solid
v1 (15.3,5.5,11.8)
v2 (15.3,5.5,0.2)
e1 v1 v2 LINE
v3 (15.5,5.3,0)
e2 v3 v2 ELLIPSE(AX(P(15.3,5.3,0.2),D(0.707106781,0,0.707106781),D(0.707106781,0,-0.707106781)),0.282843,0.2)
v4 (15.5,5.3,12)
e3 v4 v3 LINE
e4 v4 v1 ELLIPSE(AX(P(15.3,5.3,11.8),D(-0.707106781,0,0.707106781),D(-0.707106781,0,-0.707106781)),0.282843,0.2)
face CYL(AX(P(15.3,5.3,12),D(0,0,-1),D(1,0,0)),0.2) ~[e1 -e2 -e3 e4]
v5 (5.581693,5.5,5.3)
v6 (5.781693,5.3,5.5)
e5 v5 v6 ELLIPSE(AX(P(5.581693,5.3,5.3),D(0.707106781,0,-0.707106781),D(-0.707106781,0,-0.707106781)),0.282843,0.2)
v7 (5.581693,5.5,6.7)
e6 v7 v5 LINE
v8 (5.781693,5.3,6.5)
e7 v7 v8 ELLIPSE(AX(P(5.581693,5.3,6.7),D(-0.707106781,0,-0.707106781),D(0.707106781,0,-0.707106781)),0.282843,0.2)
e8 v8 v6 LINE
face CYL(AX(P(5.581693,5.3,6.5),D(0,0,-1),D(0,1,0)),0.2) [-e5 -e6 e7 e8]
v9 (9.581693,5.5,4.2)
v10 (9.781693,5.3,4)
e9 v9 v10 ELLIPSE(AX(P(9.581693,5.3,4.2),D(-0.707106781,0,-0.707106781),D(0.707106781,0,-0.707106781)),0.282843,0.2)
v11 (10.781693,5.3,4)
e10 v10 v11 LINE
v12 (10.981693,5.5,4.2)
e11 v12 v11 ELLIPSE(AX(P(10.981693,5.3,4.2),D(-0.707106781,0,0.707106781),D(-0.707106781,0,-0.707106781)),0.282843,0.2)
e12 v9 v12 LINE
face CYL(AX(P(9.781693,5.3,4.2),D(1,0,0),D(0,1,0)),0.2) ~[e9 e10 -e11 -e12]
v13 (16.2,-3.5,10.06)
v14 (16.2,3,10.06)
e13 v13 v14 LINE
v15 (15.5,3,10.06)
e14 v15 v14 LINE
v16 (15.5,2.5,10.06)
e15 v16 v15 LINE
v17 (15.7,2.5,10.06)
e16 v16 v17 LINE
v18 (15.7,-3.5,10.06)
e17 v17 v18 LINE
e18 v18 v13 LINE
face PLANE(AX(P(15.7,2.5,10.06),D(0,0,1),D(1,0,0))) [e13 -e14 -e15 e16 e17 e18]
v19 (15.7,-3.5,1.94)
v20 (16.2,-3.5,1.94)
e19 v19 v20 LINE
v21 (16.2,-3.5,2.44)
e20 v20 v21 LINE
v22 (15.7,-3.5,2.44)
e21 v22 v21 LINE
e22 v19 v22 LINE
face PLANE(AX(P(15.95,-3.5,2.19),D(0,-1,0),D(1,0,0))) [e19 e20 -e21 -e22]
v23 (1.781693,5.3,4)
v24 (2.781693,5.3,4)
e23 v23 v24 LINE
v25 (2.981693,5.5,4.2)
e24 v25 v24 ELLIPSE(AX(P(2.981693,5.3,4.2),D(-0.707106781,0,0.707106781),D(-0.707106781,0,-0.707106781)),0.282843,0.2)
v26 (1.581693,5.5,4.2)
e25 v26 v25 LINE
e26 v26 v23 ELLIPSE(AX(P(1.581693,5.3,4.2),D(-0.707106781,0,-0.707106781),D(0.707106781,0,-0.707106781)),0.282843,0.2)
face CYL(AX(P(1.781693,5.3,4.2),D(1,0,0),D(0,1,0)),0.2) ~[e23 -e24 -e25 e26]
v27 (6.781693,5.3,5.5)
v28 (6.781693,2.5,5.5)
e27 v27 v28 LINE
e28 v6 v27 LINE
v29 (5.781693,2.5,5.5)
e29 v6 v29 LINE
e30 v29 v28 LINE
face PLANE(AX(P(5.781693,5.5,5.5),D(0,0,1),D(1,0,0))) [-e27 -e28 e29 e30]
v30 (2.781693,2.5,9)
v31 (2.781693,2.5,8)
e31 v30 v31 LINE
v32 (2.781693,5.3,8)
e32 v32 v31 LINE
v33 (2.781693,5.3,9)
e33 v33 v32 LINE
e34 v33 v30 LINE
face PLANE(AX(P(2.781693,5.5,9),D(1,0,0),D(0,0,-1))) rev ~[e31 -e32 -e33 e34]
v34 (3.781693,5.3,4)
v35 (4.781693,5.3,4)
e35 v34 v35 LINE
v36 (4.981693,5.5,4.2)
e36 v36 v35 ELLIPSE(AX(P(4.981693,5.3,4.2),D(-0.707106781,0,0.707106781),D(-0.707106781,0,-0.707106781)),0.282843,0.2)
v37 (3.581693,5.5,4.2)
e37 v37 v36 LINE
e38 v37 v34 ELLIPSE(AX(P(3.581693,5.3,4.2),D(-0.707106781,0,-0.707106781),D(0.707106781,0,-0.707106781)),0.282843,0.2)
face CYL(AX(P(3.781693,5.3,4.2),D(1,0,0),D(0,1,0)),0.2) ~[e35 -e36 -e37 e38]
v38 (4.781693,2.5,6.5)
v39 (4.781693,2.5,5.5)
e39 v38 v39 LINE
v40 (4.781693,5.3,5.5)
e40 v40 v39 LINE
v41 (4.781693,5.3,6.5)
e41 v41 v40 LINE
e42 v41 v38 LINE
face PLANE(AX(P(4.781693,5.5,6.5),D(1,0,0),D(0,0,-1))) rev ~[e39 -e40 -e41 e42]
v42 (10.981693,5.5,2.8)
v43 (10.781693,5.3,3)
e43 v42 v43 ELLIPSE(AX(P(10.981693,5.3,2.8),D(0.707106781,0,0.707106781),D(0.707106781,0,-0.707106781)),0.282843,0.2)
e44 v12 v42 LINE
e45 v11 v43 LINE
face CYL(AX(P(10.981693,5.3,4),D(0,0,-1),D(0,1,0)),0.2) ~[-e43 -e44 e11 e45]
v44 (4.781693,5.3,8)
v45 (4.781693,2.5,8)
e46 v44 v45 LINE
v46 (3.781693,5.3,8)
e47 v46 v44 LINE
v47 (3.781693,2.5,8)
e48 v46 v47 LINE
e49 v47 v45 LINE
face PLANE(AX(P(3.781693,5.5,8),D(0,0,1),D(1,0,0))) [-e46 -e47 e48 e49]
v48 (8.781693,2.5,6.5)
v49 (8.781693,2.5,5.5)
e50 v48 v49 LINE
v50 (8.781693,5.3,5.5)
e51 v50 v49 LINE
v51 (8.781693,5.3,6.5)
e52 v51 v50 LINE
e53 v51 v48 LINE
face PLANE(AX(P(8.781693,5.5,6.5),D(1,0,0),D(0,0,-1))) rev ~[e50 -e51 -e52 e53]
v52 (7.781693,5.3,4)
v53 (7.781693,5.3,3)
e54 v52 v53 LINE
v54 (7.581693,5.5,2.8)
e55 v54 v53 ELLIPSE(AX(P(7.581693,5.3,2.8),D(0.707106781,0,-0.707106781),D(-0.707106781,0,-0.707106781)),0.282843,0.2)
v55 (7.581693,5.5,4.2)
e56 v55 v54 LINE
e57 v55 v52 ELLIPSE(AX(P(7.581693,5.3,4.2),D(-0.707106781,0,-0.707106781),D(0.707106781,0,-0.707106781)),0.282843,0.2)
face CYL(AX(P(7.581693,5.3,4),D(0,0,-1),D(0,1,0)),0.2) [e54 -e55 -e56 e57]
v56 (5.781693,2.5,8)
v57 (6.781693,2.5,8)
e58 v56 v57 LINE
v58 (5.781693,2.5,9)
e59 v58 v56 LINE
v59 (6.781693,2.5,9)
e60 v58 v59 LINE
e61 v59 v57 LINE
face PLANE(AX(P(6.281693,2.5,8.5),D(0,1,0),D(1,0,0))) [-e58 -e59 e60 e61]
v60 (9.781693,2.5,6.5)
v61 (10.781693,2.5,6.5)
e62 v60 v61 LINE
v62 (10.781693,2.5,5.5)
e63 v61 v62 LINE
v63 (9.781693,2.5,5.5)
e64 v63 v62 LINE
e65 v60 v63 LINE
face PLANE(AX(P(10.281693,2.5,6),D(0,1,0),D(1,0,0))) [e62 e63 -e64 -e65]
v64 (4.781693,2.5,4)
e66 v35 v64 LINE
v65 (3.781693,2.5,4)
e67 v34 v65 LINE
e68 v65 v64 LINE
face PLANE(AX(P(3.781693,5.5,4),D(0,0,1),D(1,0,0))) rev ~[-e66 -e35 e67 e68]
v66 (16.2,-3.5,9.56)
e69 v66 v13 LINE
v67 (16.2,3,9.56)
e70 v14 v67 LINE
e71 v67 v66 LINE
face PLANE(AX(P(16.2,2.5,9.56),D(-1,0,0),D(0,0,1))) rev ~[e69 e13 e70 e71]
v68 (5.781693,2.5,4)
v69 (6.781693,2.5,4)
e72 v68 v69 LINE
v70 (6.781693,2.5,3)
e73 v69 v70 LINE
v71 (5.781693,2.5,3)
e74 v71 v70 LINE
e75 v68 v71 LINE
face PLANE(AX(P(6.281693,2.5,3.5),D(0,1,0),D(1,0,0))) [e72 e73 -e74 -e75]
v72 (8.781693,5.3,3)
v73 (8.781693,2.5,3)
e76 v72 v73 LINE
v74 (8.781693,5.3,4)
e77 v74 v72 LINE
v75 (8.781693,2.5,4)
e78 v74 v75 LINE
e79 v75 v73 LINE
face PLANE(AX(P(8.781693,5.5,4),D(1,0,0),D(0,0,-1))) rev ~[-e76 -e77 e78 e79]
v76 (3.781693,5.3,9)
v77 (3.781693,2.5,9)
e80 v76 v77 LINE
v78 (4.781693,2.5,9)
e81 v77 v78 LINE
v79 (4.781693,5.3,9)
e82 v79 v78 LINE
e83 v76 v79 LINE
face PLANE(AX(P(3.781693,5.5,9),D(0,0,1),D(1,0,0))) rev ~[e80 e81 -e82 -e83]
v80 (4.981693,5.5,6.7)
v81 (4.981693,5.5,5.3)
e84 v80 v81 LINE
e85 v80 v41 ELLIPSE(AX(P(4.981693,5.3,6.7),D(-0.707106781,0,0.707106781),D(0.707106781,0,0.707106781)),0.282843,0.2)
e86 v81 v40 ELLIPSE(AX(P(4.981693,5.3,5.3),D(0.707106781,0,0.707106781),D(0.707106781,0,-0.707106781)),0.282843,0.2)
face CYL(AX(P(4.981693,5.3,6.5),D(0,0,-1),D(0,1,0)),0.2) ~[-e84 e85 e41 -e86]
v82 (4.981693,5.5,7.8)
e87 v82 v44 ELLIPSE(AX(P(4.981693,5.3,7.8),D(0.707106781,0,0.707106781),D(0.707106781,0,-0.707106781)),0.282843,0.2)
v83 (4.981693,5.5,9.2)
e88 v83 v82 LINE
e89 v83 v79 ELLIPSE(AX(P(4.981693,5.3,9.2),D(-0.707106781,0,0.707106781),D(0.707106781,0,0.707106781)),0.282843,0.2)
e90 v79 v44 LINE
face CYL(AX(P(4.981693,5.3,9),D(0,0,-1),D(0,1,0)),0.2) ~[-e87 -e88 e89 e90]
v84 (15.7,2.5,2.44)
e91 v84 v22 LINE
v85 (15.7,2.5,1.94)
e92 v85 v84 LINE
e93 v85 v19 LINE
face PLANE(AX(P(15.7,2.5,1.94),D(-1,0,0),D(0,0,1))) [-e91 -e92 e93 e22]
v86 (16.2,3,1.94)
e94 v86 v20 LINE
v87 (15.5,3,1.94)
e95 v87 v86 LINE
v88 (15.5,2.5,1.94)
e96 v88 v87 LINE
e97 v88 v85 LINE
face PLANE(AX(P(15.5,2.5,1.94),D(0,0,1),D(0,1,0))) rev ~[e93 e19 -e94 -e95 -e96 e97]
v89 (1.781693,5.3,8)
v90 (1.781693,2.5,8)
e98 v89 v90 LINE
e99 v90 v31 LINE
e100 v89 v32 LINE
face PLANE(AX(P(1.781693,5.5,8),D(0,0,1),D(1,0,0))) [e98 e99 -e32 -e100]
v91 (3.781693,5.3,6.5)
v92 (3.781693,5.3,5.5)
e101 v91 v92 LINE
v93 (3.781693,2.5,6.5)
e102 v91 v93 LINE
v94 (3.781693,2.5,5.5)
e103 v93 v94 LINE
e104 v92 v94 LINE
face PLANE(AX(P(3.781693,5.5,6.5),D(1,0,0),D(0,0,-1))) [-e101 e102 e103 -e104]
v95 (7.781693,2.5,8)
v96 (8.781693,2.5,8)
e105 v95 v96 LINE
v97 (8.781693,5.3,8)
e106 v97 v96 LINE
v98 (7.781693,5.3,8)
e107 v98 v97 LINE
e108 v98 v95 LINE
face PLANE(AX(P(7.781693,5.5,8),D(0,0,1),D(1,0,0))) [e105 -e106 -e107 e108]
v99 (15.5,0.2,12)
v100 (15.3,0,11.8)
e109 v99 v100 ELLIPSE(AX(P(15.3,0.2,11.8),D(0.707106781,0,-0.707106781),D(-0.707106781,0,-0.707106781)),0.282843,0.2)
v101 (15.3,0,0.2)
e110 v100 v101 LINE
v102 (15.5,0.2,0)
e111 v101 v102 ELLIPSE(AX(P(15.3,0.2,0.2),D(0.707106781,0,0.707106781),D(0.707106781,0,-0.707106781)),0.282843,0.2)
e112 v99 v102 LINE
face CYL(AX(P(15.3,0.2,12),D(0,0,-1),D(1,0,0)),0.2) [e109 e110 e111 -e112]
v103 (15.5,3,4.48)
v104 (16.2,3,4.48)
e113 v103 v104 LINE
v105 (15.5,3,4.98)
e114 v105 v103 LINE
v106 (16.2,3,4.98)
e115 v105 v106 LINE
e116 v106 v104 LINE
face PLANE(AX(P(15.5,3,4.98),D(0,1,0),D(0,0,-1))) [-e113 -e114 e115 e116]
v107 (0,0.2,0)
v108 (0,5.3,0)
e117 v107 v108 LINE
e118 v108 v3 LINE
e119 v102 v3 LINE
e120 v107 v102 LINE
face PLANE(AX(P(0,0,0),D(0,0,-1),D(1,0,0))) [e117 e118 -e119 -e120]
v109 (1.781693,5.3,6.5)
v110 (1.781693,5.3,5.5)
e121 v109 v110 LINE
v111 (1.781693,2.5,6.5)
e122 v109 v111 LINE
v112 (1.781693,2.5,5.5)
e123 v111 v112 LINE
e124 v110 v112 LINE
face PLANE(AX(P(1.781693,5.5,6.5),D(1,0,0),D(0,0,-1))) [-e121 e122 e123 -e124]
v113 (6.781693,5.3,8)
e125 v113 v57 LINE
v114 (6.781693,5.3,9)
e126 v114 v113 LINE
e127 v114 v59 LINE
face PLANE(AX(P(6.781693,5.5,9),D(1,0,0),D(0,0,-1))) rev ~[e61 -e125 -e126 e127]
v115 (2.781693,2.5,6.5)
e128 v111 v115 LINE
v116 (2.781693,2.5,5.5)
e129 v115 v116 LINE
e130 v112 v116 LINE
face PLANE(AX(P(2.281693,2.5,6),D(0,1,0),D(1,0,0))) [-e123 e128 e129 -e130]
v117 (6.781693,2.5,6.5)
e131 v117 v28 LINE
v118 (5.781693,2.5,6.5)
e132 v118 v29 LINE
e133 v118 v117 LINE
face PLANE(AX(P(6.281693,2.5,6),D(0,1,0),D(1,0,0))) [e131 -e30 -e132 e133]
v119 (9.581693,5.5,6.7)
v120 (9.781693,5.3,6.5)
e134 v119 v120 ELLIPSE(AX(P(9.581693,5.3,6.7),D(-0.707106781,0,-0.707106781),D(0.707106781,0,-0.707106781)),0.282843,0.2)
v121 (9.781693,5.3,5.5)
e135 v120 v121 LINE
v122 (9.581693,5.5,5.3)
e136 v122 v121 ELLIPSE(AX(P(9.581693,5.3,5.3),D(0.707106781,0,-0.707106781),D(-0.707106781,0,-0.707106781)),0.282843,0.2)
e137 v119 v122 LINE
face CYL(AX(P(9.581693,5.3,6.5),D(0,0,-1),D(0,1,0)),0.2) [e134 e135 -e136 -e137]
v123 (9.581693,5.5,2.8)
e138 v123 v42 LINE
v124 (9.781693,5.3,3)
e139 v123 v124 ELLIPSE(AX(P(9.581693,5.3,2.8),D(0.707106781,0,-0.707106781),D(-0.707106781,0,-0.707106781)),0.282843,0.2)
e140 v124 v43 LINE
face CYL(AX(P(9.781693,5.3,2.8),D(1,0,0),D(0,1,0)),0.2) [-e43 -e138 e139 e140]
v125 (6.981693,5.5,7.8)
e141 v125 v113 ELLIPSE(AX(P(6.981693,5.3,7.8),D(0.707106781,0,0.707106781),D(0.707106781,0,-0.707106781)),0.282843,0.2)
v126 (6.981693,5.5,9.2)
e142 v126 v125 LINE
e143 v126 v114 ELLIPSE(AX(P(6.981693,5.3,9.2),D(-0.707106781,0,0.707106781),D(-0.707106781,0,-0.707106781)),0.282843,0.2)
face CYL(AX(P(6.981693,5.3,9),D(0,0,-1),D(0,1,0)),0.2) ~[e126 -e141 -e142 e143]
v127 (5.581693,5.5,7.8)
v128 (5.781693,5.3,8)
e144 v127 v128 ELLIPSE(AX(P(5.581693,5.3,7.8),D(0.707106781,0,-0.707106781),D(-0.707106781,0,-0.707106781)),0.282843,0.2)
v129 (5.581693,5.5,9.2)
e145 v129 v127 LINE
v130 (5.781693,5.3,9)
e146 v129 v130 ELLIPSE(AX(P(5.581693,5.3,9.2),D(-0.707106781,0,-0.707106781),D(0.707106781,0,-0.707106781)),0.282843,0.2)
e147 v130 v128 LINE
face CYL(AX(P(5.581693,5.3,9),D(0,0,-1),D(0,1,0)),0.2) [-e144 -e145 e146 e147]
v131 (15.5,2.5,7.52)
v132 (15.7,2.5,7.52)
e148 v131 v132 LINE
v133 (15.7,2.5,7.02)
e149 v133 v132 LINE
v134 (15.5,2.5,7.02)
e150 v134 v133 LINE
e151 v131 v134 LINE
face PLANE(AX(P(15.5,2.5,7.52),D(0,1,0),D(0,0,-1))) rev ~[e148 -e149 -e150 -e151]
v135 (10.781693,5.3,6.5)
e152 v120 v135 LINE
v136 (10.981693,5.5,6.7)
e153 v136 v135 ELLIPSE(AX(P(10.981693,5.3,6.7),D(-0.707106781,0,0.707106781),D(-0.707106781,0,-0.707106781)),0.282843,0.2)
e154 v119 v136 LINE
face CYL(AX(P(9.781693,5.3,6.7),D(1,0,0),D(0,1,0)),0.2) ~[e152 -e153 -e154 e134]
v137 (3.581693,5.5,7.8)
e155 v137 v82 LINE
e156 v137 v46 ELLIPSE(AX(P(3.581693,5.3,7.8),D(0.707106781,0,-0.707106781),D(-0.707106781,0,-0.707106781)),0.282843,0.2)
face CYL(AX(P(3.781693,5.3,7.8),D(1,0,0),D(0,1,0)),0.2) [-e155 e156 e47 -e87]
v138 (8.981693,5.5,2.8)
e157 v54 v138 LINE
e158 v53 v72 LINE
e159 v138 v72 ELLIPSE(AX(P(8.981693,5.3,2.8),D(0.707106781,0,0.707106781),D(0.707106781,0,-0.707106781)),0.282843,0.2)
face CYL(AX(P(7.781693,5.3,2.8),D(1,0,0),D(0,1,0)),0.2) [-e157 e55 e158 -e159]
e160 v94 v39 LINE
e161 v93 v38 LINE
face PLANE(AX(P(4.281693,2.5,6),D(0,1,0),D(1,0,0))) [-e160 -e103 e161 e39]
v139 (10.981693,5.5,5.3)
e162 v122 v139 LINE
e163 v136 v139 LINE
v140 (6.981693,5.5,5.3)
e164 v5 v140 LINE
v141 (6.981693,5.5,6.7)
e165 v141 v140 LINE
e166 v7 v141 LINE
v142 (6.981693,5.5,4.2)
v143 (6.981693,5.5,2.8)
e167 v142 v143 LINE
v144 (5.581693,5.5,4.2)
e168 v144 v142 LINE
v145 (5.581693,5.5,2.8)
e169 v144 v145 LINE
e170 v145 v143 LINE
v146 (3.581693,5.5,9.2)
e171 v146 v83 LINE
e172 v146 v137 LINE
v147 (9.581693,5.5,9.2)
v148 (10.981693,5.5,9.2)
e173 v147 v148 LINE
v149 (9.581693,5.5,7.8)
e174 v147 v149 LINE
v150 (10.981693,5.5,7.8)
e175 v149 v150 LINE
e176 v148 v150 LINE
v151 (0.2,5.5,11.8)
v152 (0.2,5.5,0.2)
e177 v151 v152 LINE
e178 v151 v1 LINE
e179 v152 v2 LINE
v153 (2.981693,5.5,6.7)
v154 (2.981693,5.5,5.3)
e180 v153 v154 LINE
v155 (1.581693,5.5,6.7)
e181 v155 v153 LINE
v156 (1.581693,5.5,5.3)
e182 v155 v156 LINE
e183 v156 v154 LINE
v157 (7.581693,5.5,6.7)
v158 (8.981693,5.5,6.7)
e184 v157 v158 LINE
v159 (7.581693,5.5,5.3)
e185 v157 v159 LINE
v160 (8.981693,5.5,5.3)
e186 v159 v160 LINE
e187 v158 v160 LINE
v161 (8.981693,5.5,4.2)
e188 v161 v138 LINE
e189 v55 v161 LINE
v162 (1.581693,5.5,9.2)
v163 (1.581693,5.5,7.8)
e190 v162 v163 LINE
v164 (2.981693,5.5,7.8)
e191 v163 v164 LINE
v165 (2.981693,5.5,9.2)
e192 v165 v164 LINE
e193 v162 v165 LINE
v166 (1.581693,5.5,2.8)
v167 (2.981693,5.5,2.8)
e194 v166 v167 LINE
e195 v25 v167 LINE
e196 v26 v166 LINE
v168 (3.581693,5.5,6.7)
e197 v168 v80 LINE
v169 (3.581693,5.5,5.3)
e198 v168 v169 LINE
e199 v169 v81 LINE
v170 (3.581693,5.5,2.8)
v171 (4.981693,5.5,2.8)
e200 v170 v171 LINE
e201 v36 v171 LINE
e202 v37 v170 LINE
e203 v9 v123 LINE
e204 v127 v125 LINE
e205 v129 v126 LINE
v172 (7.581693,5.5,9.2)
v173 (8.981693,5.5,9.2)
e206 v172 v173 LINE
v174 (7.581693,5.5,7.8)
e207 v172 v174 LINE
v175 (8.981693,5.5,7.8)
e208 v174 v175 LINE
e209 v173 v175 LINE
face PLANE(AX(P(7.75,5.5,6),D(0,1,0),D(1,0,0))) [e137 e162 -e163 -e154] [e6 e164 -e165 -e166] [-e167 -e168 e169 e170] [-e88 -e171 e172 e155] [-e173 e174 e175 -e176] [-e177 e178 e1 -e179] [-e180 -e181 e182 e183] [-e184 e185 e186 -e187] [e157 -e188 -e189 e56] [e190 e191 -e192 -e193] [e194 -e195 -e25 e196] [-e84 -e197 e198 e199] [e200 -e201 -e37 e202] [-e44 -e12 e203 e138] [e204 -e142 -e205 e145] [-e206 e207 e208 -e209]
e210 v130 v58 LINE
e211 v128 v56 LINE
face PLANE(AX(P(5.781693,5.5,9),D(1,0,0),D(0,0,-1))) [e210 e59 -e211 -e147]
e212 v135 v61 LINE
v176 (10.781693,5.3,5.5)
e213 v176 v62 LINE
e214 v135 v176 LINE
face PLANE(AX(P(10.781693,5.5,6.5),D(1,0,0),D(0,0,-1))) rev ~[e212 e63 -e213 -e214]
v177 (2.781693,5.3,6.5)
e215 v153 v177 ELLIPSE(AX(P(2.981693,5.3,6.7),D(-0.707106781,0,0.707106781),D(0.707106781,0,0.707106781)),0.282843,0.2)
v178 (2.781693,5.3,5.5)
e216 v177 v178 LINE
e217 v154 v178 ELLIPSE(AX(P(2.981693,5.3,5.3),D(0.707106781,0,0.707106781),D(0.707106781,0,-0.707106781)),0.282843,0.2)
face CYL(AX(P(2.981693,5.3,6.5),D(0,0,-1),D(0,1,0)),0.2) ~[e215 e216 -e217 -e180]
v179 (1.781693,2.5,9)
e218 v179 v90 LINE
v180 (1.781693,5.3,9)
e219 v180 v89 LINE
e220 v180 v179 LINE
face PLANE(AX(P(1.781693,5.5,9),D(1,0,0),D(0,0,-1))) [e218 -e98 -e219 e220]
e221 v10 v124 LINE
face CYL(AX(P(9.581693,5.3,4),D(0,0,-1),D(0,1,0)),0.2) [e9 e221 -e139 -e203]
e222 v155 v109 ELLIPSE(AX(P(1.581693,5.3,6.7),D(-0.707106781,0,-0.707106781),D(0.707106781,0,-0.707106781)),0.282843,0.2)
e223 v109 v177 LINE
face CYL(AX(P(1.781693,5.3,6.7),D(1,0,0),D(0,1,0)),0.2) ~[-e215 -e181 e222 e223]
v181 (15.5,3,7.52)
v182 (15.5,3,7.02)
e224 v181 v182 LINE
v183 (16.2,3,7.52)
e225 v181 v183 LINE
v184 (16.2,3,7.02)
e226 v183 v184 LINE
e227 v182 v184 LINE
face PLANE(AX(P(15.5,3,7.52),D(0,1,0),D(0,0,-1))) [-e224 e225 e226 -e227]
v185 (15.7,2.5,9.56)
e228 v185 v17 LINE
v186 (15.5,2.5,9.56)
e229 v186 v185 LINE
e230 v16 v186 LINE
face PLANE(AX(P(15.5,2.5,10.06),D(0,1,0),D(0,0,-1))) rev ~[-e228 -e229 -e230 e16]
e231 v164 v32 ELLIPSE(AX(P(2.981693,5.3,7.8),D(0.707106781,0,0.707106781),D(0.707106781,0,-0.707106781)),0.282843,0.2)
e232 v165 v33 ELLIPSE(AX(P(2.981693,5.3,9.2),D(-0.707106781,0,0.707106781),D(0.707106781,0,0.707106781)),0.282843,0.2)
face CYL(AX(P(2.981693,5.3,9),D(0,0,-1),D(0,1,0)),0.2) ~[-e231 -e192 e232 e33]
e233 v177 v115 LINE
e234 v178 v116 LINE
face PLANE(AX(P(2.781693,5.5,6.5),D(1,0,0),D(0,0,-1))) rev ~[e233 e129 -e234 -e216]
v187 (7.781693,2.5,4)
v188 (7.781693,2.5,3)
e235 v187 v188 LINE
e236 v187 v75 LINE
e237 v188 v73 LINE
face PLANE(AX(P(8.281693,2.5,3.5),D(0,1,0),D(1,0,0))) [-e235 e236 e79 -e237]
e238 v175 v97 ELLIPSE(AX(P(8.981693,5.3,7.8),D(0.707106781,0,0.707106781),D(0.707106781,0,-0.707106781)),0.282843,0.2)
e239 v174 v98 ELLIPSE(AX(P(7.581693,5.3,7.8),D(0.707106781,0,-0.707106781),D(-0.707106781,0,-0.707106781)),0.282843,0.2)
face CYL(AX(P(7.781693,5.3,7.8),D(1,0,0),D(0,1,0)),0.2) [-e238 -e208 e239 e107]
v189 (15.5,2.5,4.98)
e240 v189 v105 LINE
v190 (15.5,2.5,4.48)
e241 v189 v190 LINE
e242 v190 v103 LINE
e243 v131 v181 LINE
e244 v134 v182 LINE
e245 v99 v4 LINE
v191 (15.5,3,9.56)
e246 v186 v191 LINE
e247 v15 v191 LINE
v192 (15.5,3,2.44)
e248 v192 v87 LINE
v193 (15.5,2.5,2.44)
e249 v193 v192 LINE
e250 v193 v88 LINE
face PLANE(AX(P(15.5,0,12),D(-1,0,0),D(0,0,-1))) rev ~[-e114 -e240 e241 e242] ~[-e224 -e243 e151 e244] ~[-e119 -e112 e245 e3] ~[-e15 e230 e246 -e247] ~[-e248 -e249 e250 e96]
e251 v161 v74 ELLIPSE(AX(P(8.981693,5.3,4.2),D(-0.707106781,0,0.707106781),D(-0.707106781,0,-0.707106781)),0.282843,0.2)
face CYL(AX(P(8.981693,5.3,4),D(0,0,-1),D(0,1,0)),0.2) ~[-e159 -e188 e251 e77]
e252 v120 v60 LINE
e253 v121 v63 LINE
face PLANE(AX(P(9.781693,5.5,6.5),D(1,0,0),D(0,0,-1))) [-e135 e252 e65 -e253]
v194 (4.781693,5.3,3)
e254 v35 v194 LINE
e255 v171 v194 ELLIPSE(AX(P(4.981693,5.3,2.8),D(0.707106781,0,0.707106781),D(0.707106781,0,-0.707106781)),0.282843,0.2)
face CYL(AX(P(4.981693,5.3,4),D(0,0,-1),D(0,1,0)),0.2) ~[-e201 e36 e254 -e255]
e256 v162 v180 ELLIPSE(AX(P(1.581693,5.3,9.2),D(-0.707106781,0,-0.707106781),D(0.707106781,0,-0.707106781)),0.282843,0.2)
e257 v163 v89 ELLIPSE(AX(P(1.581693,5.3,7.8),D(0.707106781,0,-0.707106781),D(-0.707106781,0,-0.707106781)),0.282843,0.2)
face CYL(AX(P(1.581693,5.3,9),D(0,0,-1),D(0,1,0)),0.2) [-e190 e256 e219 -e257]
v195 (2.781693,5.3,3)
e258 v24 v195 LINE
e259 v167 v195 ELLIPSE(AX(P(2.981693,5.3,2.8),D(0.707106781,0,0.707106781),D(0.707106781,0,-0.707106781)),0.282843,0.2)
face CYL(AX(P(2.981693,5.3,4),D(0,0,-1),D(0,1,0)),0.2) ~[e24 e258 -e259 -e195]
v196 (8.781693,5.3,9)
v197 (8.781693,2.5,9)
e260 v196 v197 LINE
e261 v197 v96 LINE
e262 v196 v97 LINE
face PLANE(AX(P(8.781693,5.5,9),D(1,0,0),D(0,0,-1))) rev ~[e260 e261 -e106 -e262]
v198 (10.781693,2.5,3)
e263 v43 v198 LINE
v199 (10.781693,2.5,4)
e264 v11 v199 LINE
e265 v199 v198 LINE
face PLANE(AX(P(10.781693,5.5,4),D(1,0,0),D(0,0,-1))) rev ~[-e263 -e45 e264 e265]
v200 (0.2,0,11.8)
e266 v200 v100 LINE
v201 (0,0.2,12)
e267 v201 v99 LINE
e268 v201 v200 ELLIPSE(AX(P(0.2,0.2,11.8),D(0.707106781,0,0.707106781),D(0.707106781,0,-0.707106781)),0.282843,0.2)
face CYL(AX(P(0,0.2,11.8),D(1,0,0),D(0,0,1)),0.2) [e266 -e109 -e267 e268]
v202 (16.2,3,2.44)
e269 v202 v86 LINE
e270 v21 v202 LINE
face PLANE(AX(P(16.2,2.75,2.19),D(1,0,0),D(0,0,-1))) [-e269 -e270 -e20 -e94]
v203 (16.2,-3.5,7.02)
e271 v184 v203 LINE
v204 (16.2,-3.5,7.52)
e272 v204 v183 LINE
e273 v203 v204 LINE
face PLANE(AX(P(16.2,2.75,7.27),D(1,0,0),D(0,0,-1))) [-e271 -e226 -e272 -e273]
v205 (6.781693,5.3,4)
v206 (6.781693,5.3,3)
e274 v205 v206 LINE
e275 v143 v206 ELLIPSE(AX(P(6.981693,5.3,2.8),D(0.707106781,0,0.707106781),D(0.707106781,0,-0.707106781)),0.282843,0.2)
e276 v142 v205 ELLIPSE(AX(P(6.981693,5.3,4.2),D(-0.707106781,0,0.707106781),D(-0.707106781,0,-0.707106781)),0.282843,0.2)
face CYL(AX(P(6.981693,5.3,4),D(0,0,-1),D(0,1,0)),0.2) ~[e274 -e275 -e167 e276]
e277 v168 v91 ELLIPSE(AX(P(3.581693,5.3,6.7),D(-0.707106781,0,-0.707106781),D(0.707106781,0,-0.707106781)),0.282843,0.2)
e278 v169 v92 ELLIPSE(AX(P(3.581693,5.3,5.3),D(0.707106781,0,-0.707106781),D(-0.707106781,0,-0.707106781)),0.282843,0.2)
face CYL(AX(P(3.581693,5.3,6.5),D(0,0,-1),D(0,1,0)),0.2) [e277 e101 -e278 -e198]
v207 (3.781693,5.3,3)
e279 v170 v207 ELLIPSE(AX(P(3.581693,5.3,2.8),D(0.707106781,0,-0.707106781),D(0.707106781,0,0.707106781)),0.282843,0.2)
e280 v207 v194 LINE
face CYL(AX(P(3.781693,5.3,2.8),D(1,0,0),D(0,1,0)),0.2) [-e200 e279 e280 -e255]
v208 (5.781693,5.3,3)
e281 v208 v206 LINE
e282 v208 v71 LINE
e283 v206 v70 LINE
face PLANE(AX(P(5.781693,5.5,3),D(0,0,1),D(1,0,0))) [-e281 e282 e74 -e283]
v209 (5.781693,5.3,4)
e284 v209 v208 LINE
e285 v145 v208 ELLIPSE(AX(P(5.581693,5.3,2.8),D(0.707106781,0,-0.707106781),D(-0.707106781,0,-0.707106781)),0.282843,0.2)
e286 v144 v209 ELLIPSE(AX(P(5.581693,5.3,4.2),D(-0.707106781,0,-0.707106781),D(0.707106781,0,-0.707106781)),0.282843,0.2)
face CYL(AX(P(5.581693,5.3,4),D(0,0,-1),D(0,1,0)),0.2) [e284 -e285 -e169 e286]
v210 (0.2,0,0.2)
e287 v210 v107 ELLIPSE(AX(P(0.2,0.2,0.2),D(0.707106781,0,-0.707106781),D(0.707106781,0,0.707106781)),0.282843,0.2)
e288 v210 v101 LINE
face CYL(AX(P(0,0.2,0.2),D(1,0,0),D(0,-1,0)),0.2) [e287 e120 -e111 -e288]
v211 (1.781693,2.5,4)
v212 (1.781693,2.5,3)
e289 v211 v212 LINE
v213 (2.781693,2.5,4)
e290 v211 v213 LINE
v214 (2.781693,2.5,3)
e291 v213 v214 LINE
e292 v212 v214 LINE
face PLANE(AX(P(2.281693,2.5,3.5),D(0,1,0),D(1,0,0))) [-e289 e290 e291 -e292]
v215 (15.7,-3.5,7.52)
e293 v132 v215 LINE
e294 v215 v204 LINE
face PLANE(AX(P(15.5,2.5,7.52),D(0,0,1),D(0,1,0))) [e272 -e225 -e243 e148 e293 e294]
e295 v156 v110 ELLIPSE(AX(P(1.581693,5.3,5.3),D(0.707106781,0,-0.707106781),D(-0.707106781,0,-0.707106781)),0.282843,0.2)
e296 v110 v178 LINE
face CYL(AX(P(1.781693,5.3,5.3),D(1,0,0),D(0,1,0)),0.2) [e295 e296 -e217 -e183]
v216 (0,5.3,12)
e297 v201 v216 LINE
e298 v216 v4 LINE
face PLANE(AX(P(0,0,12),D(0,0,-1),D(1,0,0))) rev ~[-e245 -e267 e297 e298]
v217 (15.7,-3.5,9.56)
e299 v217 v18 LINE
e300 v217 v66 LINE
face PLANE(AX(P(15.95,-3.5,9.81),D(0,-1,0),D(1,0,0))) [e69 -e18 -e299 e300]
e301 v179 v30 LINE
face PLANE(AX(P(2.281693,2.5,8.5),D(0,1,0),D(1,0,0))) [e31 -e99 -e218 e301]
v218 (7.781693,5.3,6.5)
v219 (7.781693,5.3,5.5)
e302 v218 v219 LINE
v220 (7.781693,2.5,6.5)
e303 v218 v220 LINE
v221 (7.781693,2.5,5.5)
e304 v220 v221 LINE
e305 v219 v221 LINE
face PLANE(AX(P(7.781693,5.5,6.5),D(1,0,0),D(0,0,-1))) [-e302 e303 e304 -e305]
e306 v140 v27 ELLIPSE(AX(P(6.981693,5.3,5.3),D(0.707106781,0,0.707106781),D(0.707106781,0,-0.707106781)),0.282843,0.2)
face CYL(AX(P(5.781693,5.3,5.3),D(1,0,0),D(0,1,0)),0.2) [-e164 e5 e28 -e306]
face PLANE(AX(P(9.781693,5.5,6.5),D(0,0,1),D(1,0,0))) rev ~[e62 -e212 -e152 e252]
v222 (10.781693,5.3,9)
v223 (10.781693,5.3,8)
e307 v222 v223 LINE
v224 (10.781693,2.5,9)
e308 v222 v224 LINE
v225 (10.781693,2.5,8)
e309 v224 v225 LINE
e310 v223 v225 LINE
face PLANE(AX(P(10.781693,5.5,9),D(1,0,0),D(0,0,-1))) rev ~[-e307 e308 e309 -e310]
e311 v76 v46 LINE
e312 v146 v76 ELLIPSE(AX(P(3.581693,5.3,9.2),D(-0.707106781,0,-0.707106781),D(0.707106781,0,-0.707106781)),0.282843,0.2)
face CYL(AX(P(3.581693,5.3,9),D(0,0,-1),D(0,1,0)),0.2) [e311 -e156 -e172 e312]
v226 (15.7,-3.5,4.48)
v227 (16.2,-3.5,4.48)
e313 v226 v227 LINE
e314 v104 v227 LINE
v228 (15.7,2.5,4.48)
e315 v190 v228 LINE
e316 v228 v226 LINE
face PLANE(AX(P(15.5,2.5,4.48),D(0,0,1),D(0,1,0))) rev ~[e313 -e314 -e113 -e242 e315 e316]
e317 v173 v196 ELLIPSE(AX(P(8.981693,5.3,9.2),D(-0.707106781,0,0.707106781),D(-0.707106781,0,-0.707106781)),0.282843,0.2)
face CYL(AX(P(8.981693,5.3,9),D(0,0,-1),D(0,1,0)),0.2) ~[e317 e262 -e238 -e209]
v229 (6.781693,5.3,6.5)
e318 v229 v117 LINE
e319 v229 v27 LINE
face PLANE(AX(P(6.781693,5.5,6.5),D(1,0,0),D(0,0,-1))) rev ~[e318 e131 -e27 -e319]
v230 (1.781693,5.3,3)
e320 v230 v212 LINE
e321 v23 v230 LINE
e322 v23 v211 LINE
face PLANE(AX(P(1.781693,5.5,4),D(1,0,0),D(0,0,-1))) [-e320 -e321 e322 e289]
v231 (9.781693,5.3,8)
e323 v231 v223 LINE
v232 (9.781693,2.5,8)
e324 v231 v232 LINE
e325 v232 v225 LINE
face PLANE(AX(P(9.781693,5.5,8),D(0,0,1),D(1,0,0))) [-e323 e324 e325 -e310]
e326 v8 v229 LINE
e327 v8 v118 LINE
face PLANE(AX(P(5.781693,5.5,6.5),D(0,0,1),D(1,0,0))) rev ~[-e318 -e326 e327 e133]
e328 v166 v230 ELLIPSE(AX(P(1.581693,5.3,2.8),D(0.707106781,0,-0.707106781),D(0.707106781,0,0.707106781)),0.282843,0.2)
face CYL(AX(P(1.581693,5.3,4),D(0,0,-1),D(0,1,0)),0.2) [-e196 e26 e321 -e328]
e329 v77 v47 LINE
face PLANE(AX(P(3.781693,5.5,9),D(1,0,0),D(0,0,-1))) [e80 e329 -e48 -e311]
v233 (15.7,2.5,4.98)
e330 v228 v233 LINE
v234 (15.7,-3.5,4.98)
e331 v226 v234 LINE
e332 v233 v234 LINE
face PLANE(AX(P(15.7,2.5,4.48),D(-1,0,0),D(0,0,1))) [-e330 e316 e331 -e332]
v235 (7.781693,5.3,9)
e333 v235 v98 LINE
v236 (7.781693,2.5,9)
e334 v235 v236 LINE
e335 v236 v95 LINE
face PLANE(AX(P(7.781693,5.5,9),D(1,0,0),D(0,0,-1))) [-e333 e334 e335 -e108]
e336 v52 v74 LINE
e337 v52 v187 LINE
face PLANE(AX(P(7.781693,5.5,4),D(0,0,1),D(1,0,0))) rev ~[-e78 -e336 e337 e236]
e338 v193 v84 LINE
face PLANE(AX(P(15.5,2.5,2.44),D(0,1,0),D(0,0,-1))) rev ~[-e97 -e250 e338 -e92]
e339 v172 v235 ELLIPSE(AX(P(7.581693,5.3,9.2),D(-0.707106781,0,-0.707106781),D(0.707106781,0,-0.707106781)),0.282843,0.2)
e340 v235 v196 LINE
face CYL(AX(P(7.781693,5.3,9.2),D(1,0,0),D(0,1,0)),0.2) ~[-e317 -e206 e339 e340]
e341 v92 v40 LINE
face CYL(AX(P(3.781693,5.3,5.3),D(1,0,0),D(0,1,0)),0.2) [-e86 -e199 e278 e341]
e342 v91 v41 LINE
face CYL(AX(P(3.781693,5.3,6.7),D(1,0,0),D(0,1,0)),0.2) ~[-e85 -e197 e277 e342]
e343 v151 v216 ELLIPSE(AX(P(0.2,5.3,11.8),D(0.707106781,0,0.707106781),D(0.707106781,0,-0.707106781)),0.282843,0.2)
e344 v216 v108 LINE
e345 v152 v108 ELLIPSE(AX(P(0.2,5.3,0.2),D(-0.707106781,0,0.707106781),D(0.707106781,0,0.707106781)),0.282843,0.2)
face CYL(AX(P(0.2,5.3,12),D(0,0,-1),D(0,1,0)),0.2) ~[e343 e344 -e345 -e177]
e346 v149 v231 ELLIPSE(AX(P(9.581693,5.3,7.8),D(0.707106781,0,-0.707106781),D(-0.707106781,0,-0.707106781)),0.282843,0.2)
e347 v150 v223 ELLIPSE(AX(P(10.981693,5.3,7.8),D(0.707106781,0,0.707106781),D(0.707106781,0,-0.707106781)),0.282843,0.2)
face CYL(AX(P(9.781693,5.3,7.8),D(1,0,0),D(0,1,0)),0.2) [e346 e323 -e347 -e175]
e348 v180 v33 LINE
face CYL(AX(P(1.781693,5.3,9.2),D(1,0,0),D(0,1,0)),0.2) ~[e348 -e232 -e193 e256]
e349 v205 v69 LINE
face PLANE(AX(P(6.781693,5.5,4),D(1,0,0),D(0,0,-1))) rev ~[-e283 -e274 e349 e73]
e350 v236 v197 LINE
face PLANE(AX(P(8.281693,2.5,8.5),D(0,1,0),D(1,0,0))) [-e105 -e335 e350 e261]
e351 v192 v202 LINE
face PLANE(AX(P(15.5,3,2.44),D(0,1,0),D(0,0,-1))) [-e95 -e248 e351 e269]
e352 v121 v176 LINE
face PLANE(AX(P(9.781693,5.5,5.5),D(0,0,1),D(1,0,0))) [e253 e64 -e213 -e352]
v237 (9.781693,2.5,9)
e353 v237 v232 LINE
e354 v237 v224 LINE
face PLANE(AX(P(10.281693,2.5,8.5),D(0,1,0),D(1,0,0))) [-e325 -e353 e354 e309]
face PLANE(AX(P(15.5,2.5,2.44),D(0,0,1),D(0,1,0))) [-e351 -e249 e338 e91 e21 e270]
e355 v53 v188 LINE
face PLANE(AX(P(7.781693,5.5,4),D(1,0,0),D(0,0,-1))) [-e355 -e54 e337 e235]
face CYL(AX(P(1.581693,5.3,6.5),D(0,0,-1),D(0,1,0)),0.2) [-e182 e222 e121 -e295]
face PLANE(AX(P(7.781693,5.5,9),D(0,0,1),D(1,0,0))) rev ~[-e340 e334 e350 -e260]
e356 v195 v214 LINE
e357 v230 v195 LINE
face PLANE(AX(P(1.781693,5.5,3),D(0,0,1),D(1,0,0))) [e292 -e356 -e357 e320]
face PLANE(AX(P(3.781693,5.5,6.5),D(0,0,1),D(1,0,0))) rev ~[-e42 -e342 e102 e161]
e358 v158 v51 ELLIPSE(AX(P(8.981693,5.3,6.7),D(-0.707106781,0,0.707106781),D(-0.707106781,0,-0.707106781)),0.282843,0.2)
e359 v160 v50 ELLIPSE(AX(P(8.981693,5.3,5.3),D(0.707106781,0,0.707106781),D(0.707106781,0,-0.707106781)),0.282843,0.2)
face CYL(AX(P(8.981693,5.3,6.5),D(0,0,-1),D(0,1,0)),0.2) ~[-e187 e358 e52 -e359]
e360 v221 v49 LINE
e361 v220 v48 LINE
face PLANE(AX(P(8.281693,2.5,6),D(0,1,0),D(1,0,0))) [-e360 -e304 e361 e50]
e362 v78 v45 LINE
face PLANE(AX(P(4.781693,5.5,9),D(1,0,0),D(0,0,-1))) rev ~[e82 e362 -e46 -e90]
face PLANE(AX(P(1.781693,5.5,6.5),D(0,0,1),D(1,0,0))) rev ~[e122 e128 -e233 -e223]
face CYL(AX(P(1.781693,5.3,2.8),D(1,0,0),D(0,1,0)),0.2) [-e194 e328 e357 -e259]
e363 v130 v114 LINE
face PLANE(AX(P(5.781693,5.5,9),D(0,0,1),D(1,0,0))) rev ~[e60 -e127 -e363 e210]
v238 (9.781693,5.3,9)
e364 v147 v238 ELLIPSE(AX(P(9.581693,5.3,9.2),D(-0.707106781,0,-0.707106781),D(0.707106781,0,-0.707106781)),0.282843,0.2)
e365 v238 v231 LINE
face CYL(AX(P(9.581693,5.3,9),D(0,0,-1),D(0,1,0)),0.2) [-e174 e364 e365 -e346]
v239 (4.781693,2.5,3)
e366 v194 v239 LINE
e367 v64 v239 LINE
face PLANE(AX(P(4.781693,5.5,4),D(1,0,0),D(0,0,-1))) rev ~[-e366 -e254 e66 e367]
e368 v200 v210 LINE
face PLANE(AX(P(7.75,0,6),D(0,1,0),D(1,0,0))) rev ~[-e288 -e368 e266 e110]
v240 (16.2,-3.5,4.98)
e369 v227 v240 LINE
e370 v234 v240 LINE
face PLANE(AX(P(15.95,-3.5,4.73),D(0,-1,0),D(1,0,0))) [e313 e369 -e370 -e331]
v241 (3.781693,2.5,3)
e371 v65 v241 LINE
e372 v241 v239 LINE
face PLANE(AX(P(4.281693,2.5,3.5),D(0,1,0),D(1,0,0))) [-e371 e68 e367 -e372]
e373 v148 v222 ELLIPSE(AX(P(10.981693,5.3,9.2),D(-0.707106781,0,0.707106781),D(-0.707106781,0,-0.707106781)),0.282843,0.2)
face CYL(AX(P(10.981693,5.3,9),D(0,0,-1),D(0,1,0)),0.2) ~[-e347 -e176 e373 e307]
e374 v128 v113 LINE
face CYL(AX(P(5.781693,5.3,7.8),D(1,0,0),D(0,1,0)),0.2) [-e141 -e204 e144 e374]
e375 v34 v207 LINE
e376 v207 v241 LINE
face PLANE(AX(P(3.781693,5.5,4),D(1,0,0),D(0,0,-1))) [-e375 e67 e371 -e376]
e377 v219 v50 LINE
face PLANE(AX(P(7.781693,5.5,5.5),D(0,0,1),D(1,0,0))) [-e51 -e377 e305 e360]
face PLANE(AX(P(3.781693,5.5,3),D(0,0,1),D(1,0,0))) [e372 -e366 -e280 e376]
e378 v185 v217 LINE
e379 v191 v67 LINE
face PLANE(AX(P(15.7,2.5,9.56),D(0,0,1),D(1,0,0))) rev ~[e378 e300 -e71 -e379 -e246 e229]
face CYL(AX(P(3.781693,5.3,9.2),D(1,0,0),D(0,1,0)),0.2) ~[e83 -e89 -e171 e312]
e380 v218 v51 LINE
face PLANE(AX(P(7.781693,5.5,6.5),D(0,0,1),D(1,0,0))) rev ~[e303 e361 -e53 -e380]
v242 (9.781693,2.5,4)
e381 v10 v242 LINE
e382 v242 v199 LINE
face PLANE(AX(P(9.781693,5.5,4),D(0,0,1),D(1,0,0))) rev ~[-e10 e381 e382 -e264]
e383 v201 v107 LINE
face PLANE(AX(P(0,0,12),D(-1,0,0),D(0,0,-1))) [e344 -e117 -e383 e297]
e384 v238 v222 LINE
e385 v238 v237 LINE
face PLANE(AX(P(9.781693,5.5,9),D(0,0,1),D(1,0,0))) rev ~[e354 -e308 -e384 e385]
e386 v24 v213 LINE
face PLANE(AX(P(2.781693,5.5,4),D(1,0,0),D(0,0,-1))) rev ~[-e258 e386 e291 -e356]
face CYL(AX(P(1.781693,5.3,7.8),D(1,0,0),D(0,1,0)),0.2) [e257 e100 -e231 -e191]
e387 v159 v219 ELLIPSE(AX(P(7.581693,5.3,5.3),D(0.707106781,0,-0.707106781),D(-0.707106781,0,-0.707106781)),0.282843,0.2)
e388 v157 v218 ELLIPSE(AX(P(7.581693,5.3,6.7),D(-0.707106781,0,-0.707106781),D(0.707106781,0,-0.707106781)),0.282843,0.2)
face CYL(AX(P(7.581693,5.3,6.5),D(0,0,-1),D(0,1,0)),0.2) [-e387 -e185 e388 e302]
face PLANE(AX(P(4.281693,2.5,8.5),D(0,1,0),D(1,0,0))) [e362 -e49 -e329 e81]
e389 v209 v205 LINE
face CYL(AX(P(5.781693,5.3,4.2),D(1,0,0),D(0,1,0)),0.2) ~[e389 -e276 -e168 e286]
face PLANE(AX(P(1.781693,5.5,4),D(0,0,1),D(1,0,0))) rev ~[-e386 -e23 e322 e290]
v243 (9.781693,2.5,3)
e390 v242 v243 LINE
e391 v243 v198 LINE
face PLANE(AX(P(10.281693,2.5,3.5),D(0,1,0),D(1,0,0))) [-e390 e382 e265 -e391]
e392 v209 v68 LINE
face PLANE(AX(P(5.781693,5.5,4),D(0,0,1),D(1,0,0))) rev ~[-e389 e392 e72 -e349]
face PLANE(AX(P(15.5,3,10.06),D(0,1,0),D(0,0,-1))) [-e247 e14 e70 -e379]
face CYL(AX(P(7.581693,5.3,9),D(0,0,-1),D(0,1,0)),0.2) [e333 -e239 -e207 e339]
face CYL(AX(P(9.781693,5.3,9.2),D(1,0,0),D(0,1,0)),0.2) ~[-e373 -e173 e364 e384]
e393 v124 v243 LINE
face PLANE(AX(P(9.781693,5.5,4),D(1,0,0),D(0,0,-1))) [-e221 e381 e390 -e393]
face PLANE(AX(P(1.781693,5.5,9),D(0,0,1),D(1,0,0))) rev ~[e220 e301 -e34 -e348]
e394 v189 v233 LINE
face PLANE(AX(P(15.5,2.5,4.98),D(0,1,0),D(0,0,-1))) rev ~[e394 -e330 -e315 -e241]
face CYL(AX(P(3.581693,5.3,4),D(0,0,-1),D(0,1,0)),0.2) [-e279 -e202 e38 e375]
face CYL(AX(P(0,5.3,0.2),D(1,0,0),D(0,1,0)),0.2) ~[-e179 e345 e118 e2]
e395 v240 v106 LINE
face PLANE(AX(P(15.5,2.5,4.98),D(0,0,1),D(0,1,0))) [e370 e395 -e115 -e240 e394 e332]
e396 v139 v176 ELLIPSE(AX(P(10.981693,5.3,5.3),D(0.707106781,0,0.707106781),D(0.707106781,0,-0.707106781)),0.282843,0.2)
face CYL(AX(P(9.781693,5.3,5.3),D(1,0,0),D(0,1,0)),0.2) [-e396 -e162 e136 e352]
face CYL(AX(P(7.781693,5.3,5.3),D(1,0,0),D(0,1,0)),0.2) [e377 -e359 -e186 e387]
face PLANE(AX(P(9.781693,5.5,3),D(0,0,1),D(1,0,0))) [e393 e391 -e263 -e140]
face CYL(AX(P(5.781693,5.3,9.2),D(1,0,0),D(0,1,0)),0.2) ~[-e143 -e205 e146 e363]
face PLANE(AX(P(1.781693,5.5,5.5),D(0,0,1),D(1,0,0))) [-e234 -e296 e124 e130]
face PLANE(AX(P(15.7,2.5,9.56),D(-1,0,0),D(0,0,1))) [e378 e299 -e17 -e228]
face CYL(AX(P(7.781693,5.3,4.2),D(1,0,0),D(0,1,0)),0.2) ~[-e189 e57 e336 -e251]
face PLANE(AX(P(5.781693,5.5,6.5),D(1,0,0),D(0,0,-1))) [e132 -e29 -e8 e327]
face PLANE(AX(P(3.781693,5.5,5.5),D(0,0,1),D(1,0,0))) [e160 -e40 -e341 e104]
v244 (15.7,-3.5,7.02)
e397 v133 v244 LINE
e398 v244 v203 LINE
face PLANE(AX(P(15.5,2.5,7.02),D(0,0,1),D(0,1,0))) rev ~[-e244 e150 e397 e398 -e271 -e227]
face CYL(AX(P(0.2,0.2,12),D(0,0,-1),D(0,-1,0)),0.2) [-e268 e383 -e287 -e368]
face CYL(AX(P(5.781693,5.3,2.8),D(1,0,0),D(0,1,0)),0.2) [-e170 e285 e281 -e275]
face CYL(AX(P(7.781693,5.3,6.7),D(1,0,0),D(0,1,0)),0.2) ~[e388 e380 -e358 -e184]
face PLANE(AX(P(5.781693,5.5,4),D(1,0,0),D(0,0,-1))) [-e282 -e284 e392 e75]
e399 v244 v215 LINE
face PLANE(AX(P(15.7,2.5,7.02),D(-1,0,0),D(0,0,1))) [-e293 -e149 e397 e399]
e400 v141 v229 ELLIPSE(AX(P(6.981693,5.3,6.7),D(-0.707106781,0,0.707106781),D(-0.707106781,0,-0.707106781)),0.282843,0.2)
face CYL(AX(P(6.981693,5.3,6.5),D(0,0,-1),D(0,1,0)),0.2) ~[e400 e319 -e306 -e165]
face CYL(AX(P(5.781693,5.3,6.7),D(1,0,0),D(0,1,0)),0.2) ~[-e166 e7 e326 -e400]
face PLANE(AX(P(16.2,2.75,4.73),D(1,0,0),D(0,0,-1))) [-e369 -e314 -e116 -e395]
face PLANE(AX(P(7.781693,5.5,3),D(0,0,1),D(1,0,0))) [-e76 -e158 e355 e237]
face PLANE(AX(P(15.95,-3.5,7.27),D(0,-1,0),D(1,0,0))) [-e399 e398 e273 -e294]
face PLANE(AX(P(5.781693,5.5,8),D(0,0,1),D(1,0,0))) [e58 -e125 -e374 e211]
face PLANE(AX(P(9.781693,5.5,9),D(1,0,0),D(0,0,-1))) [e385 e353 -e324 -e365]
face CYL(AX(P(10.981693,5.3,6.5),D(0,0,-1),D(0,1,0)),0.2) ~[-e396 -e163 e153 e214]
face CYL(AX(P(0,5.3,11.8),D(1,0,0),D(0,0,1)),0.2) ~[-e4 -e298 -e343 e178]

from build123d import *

# Parameters (mm, degrees)
SKETCH1_W           = 15.5
SKETCH1_H           = 12
BOSS_EXTRUDE1_DEPTH = 5.5
SKETCH2_W           = 0.5
SKETCH2_H           = 0.5
BOSS_EXTRUDE2_DEPTH = 0.7
SKETCH3_W           = 0.5
SKETCH3_H           = 0.5
BOSS_EXTRUDE3_DEPTH = 6
SKETCH4_W           = 1
SKETCH4_H           = 1
CUT_EXTRUDE1_DEPTH  = 3
LPATTERN1_COUNT     = 5
LPATTERN1_PITCH     = 2
FILLET1_R           = 0.2
FILLET2_R           = 0.2


with BuildPart() as part:
    # Sketch1 → Boss-Extrude1 (new body)
    with BuildSketch(Plane(origin=(0, 0, 0), x_dir=(1, 0, 0), z_dir=(0, 1, 0))):
        with Locations((7.75, -6)):
            Rectangle(SKETCH1_W, SKETCH1_H)
    extrude(amount=BOSS_EXTRUDE1_DEPTH)

    # Sketch2 → Boss-Extrude2 (add)
    with BuildSketch(Plane(origin=(15.5, 0, 0), x_dir=(0, 0, -1), z_dir=(1, 0, 0))):
        with Locations((-9.81, 2.75)):
            Rectangle(SKETCH2_W, SKETCH2_H)
        with Locations((-7.27, 2.75)):
            Rectangle(SKETCH2_W, SKETCH2_H)
        with Locations((-4.73, 2.75)):
            Rectangle(SKETCH2_W, SKETCH2_H)
        with Locations((-2.19, 2.75)):
            Rectangle(SKETCH2_W, SKETCH2_H)
    extrude(amount=BOSS_EXTRUDE2_DEPTH)

    # Sketch3 → Boss-Extrude3 (add)
    with BuildSketch(Plane.XZ.offset(-2.5)):
        with Locations((15.95, 9.81)):
            Rectangle(SKETCH3_W, SKETCH3_H)
        with Locations((15.95, 7.27)):
            Rectangle(SKETCH3_W, SKETCH3_H)
        with Locations((15.95, 4.73)):
            Rectangle(SKETCH3_W, SKETCH3_H)
        with Locations((15.95, 2.19)):
            Rectangle(SKETCH3_W, SKETCH3_H)
    extrude(amount=BOSS_EXTRUDE3_DEPTH)

    # Sketch4 → Cut-Extrude1 (cut)
    with BuildSketch(Plane(origin=(0, 5.5, 0), x_dir=(1, 0, 0), z_dir=(0, 1, 0))):
        with Locations((2.281693228, -3.5)):
            Rectangle(SKETCH4_W, SKETCH4_H)
        with Locations((2.281693228, -6)):
            Rectangle(SKETCH4_W, SKETCH4_H)
        with Locations((2.281693228, -8.5)):
            Rectangle(SKETCH4_W, SKETCH4_H)
    cut_extrude1 = extrude(amount=-CUT_EXTRUDE1_DEPTH, mode=Mode.SUBTRACT)

    # LPattern1: Cut-Extrude1 ×5
    with Locations(*[(i * LPATTERN1_PITCH, 0, 0) for i in range(1, LPATTERN1_COUNT)]):
        add(cut_extrude1, mode=Mode.SUBTRACT)

    # Fillet1
    fillet1_edges = [part.edges().sort_by_distance(p)[0] for p in [
        (2.781693228, 5.5, 3.5),
        (2.281693228, 5.5, 3),
        (1.781693228, 5.5, 3.5),
        (2.281693228, 5.5, 4),
        (15.5, 5.5, 6),
        (1.781693228, 5.5, 6),
        (2.281693228, 5.5, 6.5),
        (2.781693228, 5.5, 6),
        (2.281693228, 5.5, 5.5),
        (1.781693228, 5.5, 8.5),
        (2.281693228, 5.5, 9),
        (2.781693228, 5.5, 8.5),
        (2.281693228, 5.5, 8),
        (4.781693228, 5.5, 3.5),
        (4.281693228, 5.5, 3),
        (3.781693228, 5.5, 3.5),
        (4.281693228, 5.5, 4),
        (6.781693228, 5.5, 3.5),
        (7.75, 5.5, 0),
        (6.281693228, 5.5, 4),
        (5.781693228, 5.5, 3.5),
        (6.281693228, 5.5, 3),
        (8.781693228, 5.5, 3.5),
        (8.281693228, 5.5, 4),
        (7.781693228, 5.5, 3.5),
        (8.281693228, 5.5, 3),
        (10.781693228, 5.5, 3.5),
        (10.281693228, 5.5, 4),
        (9.781693228, 5.5, 3.5),
        (10.281693228, 5.5, 3),
        (3.781693228, 5.5, 8.5),
        (4.281693228, 5.5, 9),
        (4.781693228, 5.5, 8.5),
        (4.281693228, 5.5, 8),
        (5.781693228, 5.5, 8.5),
        (6.281693228, 5.5, 8),
        (6.781693228, 5.5, 8.5),
        (6.281693228, 5.5, 9),
        (7.781693228, 5.5, 8.5),
        (8.281693228, 5.5, 8),
        (8.781693228, 5.5, 8.5),
        (8.281693228, 5.5, 9),
        (9.781693228, 5.5, 8.5),
        (10.281693228, 5.5, 8),
        (10.781693228, 5.5, 8.5),
        (10.281693228, 5.5, 9),
        (3.781693228, 5.5, 6),
        (4.281693228, 5.5, 6.5),
        (4.781693228, 5.5, 6),
        (4.281693228, 5.5, 5.5),
        (5.781693228, 5.5, 6),
        (6.281693228, 5.5, 5.5),
        (6.781693228, 5.5, 6),
        (6.281693228, 5.5, 6.5),
        (7.781693228, 5.5, 6),
        (8.281693228, 5.5, 5.5),
        (8.781693228, 5.5, 6),
        (8.281693228, 5.5, 6.5),
        (9.781693228, 5.5, 6),
        (10.281693228, 5.5, 5.5),
        (10.781693228, 5.5, 6),
        (10.281693228, 5.5, 6.5),
        (0, 5.5, 6),
        (7.75, 5.5, 12),
    ]]
    fillet(fillet1_edges, radius=FILLET1_R)

    # Fillet2
    fillet2_edges = [part.edges().sort_by_distance(p)[0] for p in [
        (7.75, 0, 0),
        (15.5, 0, 6),
        (7.75, 0, 12),
        (0, 0, 6),
    ]]
    fillet(fillet2_edges, radius=FILLET2_R)


solid = part.part
